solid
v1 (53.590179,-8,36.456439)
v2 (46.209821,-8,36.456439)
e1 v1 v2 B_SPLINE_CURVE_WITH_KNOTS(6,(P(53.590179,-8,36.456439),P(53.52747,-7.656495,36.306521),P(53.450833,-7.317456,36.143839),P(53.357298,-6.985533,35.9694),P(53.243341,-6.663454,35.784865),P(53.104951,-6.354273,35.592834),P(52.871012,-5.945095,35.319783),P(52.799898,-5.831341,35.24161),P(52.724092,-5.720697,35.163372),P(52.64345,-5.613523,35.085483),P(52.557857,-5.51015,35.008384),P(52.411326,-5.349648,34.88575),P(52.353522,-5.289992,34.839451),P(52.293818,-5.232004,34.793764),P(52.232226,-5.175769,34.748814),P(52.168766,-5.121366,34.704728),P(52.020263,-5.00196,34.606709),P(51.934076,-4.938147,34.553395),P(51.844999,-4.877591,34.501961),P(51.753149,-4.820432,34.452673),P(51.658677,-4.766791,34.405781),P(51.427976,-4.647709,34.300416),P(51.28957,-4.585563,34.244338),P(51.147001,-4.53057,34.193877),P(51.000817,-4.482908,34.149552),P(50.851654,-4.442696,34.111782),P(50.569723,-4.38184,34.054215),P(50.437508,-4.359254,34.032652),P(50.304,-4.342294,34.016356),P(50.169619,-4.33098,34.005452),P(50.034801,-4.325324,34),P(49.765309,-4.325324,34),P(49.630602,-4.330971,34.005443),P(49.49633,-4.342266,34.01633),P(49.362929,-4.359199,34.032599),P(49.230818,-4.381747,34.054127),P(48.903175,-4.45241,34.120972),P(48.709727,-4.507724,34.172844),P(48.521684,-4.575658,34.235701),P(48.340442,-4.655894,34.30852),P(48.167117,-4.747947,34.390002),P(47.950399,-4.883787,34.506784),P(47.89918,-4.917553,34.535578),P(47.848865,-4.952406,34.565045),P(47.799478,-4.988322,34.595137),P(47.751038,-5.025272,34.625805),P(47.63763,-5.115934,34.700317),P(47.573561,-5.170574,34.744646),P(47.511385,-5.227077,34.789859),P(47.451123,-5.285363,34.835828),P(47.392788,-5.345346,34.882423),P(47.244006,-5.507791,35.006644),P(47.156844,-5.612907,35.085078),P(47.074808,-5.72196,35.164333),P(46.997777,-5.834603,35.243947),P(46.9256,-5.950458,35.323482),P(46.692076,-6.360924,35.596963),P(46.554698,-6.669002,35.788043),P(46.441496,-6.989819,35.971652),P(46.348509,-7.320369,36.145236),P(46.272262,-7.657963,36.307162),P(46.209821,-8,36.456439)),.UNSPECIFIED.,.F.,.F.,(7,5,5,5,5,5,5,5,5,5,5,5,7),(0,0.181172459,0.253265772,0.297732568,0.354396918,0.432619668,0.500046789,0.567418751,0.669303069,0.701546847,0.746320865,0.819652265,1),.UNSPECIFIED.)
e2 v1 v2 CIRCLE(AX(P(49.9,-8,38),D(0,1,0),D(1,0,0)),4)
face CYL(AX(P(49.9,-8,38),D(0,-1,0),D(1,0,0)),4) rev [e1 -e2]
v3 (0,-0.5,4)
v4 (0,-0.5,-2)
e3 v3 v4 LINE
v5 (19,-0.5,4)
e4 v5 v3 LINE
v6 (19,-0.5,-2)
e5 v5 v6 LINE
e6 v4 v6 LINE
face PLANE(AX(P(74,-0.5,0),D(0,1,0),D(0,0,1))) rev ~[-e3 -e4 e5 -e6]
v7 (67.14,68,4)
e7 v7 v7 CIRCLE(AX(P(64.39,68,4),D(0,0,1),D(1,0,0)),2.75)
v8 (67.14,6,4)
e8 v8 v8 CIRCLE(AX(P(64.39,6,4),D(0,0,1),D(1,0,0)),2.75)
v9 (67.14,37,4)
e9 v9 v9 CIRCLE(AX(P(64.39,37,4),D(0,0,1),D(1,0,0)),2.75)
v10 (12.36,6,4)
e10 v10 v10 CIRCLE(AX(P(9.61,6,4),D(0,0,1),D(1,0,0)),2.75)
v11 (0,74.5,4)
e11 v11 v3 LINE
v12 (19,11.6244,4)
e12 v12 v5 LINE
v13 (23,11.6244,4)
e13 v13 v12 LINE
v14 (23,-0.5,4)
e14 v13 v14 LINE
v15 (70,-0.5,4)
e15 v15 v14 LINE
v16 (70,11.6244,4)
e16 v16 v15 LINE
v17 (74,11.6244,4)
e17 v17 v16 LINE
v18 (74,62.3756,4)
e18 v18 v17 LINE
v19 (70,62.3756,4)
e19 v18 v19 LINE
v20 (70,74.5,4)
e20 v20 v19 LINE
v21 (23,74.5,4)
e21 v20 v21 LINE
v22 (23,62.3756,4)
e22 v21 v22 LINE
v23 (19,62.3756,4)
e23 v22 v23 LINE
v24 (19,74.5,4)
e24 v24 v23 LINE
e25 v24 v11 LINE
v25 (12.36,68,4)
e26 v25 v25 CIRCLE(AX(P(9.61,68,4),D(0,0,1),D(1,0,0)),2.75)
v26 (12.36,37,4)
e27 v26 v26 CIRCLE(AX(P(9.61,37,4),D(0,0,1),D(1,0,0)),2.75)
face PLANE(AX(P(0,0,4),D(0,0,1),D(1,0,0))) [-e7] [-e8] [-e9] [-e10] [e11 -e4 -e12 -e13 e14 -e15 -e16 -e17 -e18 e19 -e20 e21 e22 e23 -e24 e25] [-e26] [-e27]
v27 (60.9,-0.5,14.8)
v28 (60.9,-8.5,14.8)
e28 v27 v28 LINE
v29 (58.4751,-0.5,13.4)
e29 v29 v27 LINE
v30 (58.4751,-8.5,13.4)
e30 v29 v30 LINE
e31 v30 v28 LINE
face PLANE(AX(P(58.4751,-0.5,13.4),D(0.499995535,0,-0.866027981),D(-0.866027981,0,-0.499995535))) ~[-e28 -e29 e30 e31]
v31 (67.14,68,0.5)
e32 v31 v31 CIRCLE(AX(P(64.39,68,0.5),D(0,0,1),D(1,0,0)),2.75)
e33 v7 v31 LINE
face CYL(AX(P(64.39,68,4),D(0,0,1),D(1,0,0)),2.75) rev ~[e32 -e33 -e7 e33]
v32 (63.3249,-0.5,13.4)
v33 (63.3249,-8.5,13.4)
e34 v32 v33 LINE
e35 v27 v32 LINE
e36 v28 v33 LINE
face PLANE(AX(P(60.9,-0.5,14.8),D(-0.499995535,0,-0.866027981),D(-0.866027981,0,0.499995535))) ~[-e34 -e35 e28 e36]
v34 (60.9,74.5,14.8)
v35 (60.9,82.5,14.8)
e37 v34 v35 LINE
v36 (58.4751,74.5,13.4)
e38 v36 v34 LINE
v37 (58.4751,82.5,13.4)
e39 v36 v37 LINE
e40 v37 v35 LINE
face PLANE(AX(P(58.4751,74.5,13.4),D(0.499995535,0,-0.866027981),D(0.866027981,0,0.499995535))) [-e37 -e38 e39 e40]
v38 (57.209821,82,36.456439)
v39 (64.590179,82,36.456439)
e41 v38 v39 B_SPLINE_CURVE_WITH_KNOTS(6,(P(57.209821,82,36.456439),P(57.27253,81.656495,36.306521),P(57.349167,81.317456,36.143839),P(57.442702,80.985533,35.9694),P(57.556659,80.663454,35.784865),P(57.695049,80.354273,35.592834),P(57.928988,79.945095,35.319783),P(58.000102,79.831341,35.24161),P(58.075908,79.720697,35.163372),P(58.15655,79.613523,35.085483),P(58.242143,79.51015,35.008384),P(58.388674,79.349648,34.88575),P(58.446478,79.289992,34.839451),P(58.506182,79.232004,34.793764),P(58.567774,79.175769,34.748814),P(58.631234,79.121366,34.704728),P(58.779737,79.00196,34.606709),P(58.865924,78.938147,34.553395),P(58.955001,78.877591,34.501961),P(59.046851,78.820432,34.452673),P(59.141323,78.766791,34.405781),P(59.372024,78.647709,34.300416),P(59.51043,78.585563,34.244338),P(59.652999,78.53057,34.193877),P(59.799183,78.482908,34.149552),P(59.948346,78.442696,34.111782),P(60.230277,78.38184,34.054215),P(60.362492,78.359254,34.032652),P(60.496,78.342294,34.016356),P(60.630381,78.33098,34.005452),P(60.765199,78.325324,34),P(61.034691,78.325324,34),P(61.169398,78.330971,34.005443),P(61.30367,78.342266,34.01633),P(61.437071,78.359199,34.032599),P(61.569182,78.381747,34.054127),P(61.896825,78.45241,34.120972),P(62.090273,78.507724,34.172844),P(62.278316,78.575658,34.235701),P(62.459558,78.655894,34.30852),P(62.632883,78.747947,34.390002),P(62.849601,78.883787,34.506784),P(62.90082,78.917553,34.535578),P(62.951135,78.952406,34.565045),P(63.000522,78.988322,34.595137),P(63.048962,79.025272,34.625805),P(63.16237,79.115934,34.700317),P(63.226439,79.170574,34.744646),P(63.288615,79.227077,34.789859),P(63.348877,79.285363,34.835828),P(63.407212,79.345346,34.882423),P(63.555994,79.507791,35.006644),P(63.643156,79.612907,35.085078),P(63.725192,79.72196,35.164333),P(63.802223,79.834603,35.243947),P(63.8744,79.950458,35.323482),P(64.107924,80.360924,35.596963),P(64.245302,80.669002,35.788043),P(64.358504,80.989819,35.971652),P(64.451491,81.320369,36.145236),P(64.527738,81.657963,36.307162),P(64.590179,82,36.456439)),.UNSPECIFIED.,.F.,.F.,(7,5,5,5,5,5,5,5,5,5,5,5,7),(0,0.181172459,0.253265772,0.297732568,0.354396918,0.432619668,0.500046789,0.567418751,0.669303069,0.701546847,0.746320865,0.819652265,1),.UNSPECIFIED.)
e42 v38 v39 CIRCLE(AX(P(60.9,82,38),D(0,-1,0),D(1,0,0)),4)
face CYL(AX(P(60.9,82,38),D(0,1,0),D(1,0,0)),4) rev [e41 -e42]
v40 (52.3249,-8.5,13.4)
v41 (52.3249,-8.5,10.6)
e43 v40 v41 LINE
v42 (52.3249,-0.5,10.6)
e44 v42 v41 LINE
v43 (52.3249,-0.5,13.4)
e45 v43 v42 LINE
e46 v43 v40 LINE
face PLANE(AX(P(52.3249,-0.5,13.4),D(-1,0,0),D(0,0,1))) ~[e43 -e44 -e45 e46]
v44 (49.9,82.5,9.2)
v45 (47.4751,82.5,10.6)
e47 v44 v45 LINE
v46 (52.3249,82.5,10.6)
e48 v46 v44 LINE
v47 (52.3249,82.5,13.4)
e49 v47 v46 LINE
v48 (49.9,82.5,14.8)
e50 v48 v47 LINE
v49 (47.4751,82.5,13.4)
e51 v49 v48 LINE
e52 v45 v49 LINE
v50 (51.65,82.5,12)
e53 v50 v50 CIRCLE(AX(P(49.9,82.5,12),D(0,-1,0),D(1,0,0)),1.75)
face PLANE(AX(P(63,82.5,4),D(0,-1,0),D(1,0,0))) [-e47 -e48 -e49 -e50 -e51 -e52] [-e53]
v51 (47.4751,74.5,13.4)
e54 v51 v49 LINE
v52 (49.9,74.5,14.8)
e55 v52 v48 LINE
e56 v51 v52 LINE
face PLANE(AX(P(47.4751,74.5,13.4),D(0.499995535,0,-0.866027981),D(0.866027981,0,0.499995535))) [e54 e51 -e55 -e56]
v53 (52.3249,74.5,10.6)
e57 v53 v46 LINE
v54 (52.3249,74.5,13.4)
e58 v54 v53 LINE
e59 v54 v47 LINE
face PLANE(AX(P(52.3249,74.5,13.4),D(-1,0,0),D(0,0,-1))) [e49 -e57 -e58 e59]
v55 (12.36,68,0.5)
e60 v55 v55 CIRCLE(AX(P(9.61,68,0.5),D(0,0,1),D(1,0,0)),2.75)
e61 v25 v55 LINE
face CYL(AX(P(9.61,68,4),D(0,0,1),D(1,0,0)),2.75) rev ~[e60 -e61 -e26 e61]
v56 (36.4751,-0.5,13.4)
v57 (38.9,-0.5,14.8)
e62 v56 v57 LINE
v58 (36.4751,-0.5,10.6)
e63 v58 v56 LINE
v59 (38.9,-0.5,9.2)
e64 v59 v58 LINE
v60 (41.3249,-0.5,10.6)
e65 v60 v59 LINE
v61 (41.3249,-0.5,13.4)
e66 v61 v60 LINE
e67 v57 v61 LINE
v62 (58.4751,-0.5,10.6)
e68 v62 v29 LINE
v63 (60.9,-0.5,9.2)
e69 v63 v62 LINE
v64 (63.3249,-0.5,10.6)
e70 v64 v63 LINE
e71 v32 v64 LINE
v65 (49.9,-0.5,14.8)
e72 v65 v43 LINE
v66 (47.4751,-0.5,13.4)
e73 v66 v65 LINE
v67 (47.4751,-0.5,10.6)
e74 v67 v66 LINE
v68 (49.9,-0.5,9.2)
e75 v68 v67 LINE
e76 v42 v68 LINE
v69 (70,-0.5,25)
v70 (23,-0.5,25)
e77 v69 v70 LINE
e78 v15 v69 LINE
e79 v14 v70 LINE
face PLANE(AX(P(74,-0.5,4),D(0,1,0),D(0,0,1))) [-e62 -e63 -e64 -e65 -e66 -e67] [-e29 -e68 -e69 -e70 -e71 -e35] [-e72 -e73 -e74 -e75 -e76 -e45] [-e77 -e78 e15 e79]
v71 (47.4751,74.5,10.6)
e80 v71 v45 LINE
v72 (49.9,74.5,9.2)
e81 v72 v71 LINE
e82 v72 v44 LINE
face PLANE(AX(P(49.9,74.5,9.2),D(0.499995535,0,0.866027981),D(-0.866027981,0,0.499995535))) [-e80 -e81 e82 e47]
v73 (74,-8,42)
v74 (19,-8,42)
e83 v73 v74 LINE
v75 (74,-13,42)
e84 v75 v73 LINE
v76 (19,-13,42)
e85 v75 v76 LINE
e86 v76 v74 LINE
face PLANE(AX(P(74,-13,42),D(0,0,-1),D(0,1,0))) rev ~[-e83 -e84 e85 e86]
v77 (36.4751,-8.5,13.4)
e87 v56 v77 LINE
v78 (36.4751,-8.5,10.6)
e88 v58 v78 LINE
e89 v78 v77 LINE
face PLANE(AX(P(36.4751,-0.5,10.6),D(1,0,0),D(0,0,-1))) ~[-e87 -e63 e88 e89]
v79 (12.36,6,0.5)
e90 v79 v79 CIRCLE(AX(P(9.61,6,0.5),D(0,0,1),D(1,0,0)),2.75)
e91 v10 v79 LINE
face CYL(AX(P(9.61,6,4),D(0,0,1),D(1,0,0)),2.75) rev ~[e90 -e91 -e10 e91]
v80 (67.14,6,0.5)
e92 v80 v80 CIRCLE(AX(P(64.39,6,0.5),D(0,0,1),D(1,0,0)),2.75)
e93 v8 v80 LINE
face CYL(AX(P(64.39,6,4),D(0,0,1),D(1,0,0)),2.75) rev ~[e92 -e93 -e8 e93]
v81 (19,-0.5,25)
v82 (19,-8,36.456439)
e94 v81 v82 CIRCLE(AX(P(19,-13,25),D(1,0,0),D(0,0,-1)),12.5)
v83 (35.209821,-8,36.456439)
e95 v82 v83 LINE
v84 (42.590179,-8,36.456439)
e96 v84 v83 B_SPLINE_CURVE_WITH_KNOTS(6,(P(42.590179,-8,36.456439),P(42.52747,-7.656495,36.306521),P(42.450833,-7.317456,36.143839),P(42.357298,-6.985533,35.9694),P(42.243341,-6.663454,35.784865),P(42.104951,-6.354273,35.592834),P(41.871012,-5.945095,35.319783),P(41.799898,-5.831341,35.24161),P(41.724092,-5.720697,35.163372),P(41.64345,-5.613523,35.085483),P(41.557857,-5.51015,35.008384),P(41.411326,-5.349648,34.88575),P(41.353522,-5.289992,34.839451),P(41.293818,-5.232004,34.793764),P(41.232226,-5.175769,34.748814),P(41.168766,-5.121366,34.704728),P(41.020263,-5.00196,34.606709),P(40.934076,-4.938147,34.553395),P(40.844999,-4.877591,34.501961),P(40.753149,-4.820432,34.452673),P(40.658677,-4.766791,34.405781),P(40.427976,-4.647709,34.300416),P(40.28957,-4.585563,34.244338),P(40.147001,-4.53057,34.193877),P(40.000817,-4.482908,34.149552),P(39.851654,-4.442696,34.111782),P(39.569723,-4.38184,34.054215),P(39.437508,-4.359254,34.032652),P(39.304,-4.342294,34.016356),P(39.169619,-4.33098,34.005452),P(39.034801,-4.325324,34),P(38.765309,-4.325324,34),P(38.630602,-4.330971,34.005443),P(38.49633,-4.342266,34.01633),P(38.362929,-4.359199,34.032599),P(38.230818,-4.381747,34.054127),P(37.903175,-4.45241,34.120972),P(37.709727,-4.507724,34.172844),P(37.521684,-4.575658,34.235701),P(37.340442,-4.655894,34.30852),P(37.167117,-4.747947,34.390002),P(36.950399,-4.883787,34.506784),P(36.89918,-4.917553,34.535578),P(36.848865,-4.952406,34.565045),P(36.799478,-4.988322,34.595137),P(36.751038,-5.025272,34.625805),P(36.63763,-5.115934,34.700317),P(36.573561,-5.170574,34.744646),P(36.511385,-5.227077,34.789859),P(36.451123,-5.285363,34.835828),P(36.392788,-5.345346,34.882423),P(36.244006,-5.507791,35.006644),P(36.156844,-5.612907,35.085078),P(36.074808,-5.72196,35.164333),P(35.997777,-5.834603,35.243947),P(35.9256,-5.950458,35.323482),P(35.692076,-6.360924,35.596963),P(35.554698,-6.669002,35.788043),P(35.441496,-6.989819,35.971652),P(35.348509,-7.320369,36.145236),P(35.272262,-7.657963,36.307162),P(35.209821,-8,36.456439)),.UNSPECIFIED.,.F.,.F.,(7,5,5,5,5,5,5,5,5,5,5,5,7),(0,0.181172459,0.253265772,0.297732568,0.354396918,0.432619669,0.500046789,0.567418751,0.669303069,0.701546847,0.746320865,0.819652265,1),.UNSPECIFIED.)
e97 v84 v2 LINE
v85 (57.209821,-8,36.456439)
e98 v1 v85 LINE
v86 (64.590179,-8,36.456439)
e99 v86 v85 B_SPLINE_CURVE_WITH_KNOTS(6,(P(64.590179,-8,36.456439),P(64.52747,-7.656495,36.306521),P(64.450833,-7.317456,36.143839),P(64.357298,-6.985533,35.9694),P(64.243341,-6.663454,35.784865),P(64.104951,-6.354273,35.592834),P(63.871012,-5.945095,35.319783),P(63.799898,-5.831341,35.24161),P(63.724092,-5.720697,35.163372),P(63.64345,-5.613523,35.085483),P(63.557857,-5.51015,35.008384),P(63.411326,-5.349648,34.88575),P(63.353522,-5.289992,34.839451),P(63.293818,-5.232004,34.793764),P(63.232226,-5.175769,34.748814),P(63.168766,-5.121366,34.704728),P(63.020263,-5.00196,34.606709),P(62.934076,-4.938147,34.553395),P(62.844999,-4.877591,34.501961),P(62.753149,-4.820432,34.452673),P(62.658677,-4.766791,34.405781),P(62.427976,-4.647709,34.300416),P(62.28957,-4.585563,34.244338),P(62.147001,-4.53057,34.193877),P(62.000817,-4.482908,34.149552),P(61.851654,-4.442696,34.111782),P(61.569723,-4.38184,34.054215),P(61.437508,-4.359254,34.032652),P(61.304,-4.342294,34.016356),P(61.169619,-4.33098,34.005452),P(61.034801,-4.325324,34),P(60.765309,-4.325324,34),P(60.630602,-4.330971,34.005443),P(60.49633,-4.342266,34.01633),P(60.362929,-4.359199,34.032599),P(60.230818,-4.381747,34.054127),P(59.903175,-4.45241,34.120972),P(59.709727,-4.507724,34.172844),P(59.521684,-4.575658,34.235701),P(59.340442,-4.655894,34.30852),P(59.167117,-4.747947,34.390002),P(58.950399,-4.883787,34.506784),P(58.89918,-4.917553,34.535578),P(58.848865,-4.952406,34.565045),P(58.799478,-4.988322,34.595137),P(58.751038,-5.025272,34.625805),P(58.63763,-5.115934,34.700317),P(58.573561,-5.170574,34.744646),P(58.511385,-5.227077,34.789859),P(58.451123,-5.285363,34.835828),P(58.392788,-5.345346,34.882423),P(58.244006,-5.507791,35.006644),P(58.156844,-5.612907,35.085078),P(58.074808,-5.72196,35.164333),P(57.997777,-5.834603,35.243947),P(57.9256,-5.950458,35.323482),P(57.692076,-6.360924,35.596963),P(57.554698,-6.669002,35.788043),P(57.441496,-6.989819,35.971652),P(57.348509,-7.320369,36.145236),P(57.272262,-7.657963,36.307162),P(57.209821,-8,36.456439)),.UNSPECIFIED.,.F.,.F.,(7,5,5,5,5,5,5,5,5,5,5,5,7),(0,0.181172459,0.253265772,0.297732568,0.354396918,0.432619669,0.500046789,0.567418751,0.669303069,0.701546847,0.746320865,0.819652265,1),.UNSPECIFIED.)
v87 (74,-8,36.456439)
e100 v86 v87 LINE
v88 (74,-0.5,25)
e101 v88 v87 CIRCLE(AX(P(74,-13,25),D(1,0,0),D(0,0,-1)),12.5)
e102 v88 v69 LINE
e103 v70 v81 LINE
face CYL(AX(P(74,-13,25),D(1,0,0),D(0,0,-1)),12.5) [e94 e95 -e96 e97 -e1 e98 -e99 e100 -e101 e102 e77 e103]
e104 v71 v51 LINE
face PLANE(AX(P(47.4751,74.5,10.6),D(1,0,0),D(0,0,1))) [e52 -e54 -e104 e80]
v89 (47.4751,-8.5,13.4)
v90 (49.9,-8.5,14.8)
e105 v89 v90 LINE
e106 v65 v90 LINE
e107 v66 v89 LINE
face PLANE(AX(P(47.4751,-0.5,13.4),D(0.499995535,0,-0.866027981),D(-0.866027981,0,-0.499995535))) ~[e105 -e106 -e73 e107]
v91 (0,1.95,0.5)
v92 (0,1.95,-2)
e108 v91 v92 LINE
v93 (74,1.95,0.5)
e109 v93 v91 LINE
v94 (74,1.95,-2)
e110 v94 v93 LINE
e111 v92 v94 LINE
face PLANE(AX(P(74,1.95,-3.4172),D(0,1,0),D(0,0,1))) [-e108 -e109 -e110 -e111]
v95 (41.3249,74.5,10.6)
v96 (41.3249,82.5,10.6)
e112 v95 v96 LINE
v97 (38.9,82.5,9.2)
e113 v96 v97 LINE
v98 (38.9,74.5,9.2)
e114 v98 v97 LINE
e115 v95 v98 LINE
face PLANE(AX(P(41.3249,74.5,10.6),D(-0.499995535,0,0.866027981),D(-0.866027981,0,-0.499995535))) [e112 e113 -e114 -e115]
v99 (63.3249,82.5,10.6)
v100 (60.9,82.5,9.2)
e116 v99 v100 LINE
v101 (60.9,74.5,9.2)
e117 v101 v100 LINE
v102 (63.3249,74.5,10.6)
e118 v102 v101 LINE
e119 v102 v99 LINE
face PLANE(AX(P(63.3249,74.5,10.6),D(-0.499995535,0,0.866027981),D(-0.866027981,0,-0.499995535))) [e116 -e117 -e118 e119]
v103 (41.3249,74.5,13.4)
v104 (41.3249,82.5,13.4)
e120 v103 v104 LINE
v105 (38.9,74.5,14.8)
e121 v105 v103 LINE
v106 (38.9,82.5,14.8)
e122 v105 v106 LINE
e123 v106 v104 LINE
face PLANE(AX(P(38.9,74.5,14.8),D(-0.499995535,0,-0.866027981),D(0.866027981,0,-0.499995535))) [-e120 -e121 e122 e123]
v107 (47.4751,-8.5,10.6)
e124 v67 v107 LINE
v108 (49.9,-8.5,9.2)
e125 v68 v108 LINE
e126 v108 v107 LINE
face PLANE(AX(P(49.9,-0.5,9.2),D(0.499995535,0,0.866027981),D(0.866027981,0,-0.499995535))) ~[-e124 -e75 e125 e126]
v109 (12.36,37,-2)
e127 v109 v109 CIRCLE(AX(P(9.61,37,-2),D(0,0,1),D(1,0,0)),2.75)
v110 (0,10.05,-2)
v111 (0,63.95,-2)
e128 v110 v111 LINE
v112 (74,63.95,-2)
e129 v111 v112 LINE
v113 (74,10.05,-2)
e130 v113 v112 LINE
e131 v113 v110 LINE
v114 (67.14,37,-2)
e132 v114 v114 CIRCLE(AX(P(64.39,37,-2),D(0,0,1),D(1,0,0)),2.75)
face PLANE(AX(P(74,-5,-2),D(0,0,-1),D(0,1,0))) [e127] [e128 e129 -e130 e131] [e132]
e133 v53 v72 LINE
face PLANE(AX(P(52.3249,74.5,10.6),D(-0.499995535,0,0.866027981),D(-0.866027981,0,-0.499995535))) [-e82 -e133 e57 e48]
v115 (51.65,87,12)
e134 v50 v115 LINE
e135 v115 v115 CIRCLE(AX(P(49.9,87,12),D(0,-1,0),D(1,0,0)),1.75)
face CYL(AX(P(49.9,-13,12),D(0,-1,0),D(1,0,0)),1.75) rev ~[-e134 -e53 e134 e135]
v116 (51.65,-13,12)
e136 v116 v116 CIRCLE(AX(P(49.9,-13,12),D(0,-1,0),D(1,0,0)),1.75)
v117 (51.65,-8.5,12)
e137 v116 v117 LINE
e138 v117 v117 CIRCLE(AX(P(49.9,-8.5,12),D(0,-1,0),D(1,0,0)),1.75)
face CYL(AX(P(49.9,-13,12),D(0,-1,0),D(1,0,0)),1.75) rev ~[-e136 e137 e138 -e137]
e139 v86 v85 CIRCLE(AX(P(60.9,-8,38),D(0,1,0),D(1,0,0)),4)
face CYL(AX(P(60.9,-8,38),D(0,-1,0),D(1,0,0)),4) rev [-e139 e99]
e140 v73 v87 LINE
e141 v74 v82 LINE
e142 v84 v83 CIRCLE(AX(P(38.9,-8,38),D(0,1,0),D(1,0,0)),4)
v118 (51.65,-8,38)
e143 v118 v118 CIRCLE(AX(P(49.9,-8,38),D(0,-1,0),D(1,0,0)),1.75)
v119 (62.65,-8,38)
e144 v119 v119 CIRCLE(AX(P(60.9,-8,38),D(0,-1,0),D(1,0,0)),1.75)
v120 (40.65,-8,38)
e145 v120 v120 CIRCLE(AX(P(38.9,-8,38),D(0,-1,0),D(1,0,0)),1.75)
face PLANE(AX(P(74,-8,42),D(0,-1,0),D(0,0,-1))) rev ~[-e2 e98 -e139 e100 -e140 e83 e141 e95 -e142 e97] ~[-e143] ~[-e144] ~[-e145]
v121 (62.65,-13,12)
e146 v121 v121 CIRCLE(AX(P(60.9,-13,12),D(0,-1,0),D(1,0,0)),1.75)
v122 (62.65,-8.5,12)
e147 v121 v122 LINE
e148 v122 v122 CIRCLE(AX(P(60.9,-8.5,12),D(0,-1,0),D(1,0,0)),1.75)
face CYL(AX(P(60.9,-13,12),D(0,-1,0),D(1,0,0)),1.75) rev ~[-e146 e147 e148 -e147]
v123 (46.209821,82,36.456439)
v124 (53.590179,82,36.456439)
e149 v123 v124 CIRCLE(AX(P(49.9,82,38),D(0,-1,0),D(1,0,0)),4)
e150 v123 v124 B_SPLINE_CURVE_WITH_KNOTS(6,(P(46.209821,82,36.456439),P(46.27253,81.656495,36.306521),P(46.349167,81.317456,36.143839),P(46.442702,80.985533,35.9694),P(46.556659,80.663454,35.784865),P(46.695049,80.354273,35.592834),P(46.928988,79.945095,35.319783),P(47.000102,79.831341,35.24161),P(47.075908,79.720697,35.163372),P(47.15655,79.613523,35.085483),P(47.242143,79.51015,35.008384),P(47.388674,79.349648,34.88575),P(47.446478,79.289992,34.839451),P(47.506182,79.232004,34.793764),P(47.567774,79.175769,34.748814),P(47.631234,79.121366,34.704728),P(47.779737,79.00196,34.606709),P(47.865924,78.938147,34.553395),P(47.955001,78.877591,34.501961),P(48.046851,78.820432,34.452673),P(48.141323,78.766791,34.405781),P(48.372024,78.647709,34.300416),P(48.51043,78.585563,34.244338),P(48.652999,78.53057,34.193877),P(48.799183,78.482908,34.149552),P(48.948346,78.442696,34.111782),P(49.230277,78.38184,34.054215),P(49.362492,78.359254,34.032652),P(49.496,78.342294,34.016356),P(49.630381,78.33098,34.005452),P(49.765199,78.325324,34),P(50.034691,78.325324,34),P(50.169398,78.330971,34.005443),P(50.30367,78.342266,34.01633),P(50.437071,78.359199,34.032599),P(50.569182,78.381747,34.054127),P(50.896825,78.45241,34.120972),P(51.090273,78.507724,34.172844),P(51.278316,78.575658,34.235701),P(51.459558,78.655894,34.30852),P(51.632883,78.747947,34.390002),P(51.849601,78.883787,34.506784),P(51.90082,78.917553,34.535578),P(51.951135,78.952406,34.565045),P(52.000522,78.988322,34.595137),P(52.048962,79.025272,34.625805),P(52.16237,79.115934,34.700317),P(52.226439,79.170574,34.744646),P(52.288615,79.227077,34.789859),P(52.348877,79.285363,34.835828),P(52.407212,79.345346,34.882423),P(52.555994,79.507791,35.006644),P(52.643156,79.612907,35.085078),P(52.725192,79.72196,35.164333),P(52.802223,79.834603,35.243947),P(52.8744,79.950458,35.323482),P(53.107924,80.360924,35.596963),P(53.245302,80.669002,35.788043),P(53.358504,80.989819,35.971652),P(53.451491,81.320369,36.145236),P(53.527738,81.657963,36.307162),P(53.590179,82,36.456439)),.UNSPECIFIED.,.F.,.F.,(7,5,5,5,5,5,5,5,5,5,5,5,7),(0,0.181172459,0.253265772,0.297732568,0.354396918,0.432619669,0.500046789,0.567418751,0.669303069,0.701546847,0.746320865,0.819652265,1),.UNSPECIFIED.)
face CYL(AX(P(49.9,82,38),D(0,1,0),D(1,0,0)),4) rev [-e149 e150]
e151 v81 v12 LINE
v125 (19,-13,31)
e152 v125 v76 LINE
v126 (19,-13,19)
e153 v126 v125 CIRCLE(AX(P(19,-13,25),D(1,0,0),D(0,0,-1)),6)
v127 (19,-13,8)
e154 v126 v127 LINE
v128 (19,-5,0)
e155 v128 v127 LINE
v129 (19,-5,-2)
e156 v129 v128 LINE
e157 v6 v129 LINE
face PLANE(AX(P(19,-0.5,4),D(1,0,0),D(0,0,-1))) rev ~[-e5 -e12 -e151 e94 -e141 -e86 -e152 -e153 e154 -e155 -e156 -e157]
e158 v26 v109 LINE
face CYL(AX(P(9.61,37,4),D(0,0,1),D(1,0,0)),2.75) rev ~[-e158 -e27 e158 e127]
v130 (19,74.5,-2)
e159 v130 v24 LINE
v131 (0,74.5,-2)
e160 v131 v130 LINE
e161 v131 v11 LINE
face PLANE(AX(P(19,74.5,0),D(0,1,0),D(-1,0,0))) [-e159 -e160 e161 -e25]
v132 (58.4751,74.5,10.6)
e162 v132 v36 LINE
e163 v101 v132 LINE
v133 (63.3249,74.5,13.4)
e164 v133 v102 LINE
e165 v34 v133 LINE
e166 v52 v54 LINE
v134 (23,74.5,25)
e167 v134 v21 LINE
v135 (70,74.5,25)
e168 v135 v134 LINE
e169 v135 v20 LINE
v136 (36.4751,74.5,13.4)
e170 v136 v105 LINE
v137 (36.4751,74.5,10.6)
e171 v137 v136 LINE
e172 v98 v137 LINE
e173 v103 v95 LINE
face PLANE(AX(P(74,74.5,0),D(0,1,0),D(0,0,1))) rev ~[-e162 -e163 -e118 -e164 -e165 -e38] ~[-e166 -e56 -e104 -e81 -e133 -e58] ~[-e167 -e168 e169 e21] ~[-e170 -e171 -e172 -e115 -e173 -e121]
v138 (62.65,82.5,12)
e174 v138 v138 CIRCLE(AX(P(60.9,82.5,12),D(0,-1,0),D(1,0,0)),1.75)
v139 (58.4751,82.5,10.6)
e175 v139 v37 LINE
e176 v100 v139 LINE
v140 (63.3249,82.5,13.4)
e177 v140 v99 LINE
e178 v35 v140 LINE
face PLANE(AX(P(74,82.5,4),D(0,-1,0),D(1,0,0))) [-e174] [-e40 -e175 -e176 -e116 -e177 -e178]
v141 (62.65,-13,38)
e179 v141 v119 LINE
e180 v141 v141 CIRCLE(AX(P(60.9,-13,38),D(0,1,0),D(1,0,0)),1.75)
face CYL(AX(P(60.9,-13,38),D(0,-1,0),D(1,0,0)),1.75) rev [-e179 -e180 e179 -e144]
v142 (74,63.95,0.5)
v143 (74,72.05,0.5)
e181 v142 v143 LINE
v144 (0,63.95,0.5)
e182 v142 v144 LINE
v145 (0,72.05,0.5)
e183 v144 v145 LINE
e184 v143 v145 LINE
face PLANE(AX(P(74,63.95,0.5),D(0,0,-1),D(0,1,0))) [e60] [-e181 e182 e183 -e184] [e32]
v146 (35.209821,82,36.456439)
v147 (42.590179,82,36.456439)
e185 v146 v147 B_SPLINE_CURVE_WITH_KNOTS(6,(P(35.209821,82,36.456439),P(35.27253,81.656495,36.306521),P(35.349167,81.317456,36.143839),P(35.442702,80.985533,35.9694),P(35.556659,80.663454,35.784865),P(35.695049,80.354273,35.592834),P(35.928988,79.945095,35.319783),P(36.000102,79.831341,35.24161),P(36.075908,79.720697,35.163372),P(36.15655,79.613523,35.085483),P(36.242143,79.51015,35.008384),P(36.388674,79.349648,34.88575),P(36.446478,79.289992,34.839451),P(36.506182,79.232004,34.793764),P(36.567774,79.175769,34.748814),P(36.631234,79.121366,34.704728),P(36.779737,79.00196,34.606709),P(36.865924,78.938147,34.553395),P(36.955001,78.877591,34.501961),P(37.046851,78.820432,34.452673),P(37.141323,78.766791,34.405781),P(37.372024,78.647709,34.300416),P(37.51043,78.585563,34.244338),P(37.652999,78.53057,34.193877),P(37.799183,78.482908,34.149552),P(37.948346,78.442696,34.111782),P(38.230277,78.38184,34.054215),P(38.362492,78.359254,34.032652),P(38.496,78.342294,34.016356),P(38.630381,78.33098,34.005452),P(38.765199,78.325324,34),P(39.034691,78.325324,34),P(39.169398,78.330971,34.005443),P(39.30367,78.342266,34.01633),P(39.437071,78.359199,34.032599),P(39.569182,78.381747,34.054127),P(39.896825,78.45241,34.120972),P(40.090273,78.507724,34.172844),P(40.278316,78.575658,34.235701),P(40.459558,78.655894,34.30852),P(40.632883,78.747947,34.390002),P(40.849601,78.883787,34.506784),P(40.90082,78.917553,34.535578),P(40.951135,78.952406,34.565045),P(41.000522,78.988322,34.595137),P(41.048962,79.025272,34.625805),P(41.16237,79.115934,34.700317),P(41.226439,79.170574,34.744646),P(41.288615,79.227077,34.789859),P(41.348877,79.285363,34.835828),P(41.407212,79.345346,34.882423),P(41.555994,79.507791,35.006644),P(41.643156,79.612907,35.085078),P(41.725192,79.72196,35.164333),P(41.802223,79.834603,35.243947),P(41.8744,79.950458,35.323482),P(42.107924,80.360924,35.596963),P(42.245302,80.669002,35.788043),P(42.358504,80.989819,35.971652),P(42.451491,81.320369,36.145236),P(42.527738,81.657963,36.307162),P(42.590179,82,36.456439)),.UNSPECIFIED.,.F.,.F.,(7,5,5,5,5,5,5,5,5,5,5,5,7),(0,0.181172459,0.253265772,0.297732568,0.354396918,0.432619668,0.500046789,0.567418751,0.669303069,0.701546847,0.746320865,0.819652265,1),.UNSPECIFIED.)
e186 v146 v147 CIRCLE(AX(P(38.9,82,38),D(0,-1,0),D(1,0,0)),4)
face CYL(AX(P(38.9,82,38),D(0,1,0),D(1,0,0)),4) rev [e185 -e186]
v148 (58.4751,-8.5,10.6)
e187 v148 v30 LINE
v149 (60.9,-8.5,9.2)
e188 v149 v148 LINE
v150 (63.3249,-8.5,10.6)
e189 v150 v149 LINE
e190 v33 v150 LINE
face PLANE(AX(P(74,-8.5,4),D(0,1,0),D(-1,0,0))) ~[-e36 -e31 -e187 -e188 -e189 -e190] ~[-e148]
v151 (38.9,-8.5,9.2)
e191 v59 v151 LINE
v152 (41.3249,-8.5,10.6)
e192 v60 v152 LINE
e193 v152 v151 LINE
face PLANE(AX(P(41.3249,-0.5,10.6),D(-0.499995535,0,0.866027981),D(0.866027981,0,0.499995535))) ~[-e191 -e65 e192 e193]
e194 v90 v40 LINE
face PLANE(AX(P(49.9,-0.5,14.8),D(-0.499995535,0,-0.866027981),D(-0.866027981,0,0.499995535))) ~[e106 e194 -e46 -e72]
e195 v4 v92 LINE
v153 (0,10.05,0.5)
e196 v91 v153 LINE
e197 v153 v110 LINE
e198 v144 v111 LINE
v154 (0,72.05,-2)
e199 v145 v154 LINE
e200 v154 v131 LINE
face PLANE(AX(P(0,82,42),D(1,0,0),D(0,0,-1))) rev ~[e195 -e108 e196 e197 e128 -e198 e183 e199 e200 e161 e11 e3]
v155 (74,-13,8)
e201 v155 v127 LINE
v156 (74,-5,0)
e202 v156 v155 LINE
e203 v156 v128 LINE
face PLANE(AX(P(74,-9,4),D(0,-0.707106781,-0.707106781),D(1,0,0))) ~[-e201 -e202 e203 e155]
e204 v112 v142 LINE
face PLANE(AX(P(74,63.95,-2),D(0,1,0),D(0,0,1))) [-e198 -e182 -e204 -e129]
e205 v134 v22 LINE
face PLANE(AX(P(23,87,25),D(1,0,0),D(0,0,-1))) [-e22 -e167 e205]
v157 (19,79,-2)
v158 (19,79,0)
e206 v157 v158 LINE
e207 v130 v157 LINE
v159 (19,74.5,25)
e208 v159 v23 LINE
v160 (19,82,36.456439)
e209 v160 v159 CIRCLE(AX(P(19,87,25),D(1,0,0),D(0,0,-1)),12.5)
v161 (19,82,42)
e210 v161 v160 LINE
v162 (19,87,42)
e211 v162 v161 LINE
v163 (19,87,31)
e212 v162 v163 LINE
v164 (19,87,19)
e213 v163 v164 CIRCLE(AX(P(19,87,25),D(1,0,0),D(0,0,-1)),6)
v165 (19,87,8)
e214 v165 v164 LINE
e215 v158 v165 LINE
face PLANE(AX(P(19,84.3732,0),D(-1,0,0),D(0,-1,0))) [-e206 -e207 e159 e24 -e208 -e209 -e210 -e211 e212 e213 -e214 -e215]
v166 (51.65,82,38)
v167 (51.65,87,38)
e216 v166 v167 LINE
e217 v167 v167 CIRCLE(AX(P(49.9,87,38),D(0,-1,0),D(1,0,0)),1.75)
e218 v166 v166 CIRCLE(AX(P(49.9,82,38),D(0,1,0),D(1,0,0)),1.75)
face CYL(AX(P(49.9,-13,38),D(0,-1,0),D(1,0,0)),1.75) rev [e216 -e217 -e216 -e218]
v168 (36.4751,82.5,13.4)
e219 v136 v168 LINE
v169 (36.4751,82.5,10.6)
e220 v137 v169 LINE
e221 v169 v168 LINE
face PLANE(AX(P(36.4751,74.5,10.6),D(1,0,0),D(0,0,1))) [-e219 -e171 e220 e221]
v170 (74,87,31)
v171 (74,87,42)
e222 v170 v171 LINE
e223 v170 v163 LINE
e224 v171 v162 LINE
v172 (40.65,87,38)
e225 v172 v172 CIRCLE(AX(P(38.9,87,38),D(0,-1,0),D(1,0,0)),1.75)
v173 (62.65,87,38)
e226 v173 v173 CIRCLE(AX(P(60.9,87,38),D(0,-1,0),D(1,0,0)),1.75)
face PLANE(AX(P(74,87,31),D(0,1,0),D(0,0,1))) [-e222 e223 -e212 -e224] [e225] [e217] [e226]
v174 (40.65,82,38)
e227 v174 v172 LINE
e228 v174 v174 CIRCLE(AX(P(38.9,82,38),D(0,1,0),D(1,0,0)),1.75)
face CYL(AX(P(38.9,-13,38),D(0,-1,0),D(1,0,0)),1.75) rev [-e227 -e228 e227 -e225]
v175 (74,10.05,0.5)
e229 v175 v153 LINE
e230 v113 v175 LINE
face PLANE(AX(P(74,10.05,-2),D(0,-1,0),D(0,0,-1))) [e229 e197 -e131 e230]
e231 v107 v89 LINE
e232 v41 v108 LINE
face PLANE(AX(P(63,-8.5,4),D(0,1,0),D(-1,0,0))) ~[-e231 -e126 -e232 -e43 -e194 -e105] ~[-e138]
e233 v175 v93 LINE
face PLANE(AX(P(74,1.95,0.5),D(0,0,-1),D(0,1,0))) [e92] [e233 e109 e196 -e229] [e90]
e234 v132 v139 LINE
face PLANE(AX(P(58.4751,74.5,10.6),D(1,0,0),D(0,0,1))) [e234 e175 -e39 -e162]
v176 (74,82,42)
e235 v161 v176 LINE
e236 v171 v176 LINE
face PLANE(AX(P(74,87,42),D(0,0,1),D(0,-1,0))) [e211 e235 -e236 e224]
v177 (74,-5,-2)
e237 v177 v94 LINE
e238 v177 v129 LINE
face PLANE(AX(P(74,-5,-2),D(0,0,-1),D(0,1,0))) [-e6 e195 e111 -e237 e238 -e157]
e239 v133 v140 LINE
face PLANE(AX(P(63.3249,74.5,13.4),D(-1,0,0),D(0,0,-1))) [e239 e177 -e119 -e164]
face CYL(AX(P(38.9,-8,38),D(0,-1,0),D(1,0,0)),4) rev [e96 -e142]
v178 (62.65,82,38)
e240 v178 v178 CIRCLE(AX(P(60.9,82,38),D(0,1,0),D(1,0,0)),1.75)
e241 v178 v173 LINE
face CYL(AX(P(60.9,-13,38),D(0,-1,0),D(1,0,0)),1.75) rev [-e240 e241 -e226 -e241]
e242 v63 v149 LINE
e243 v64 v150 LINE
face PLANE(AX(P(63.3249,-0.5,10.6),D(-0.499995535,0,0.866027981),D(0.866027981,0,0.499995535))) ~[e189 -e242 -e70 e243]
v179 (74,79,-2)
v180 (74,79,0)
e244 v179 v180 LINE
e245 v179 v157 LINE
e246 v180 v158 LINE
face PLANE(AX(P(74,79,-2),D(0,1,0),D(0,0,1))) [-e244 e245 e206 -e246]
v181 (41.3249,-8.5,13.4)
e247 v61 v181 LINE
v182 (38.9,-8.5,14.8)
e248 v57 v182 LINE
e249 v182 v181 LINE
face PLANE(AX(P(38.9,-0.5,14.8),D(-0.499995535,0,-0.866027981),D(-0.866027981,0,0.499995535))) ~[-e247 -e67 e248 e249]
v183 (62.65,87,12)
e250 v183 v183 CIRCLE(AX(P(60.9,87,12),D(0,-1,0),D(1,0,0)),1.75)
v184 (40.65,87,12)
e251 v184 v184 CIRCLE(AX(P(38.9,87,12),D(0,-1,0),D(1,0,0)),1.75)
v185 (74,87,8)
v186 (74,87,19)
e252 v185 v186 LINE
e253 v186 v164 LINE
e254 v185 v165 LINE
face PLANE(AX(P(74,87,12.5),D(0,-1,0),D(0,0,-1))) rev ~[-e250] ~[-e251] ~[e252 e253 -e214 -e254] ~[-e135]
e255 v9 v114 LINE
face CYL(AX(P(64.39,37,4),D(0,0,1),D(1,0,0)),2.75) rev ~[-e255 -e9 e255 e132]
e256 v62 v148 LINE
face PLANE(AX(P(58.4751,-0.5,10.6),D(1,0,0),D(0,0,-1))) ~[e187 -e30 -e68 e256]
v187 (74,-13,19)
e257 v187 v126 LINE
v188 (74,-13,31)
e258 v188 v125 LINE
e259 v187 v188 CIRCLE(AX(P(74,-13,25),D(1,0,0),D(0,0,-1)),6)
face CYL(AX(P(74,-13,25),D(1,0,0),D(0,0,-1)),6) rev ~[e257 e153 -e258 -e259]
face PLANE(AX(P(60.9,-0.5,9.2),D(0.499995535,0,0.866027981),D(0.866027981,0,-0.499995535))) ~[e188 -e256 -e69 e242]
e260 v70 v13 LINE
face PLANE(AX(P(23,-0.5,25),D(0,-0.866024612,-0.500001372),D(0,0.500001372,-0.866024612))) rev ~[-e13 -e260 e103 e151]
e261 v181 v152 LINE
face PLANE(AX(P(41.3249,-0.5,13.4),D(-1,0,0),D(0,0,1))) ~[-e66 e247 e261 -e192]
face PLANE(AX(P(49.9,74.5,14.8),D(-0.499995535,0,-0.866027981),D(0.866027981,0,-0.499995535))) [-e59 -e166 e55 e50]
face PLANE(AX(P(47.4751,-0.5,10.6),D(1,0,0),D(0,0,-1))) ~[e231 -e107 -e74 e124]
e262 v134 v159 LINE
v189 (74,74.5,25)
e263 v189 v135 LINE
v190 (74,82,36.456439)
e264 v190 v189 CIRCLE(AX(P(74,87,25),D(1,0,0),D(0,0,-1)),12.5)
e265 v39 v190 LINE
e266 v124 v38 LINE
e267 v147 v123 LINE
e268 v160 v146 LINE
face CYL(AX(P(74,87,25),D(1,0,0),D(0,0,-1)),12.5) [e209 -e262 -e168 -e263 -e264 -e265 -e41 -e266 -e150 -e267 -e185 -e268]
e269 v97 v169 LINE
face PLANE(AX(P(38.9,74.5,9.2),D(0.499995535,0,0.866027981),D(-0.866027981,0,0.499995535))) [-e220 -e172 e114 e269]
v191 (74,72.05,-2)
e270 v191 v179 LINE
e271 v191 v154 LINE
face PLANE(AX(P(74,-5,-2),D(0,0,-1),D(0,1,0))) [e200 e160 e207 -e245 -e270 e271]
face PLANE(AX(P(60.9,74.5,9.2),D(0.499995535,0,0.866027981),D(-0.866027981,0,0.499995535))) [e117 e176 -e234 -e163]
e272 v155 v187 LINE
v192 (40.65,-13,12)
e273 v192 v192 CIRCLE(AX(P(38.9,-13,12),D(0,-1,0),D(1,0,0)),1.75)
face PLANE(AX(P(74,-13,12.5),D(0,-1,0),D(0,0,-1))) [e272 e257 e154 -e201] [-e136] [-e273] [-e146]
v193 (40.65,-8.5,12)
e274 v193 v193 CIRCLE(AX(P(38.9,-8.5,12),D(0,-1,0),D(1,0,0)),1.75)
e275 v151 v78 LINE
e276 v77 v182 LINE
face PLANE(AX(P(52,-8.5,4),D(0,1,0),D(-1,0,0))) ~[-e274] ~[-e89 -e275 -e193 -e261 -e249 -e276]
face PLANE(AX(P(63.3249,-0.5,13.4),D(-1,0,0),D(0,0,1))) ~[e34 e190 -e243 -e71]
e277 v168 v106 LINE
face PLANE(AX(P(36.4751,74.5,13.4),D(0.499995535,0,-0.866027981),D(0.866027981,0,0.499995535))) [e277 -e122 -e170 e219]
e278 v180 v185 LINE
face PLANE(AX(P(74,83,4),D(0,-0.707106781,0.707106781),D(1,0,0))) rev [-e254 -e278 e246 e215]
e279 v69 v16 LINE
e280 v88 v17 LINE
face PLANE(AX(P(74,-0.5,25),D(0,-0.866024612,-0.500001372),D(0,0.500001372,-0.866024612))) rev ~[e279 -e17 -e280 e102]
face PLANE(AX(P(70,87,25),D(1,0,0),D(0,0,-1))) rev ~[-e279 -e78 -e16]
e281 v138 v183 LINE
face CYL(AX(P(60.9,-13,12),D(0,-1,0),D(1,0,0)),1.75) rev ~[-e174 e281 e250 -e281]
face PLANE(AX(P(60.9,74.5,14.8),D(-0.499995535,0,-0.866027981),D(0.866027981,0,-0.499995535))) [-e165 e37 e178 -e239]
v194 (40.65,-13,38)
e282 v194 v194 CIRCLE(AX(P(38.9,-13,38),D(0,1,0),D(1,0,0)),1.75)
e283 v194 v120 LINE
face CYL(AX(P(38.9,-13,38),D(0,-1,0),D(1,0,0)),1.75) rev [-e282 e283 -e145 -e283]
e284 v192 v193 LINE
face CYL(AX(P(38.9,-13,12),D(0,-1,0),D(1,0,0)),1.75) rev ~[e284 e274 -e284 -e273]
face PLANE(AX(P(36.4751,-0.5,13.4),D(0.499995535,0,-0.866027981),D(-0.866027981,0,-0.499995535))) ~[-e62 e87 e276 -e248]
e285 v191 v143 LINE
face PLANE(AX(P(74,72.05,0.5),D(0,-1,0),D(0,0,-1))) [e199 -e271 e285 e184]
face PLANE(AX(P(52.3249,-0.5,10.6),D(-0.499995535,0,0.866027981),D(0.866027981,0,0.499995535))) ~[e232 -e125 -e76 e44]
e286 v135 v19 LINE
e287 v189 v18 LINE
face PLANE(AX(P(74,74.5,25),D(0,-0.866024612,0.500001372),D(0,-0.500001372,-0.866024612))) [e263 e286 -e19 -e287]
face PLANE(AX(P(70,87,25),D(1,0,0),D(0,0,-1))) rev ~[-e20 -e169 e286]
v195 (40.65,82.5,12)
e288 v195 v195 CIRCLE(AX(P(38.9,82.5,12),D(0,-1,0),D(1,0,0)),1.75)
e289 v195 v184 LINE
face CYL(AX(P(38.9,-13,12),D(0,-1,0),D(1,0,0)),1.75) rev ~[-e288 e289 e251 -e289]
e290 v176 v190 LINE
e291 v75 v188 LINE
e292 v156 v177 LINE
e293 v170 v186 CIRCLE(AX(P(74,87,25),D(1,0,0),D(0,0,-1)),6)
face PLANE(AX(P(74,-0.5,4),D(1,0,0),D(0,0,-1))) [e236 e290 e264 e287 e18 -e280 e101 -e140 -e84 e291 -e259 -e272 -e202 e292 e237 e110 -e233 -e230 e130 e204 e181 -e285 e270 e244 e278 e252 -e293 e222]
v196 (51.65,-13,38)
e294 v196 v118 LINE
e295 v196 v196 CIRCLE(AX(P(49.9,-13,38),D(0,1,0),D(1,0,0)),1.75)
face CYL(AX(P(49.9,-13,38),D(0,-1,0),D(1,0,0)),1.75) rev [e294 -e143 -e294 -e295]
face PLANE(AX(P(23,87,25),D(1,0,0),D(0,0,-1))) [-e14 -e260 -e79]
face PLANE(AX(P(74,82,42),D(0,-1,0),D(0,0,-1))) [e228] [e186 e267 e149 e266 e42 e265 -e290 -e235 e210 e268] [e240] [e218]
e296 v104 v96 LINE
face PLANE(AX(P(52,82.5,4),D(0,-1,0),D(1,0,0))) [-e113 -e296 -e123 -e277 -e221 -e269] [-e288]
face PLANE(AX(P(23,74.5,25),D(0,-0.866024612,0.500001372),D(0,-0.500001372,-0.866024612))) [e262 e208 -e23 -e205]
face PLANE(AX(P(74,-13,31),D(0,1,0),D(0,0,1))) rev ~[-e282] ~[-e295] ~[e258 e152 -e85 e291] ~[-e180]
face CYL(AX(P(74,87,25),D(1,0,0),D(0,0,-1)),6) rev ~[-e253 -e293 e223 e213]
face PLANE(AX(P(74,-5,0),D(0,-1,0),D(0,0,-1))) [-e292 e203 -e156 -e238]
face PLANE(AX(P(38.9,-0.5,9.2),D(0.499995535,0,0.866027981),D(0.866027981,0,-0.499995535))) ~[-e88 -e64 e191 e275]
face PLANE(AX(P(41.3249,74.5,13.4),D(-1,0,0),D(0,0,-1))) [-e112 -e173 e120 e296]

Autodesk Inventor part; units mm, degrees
sketch "Szkic1" plane through (0, 0, 0) normal (0, 0, 1) x (1, 0, 0)
  line L0 (0, 0) -> (74, 0)
  line L1 (74, 0) -> (74, 74)
  line L2 (74, 74) -> (0, 74)
  line L3 (0, 74) -> (0, 0)
  dimension "d0" = 74
  dimension "d1" = 74
extrude "Wyciągnięcie proste1" add sketch "Szkic1" along normal blind 25
sketch "Szkic2" plane through (0, 0, 25) normal (0, 0, 1) x (1, 0, 0)
  line L0 (-55.7627, 31) -> (170, 31)
  line L1 (170, 31) -> (170, 11)
  line L2 (170, 11) -> (-55.7627, 11)
  line L3 (-55.7627, 11) -> (-55.7627, 31)
  line L4 (-31.3559, 63) -> (141.1864, 63)
  line L5 (141.1864, 63) -> (141.1864, 43)
  line L6 (141.1864, 43) -> (-31.3559, 43)
  line L7 (-31.3559, 43) -> (-31.3559, 63)
  line L8 (0, 0) -> (74, 0) projected
  line L9 (74, 74) -> (0, 74) projected
  dimension "d4" = 20
  dimension "d6" = 20
  dimension "d7" = 11
  dimension "d8" = 11
extrude "Wyciągnięcie proste2" cut sketch "Szkic2" against normal blind 19.8
sketch "Szkic3" plane through (0, 0, 25) normal (0, 0, 1) x (1, 0, 0)
  line L0 (0, 9.95) -> (74, 9.95)
  line L1 (74, 9.95) -> (74, 2.05)
  line L2 (74, 2.05) -> (0, 2.05)
  line L3 (0, 2.05) -> (0, 9.95)
  line L4 (0, 71.95) -> (74, 71.95)
  line L5 (74, 71.95) -> (74, 64.05)
  line L6 (74, 64.05) -> (0, 64.05)
  line L7 (0, 64.05) -> (0, 71.95)
  line L8 (74, 74) -> (0, 74) projected
  line L9 (0, 74) -> (0, 63) projected
  line L10 (74, 63) -> (74, 74) projected
  line L11 (0, 0) -> (74, 0) projected
  line L12 (0, 11) -> (0, 0) projected
  line L13 (74, 0) -> (74, 11) projected
  dimension "d11" = 2.05
  dimension "d12" = 7.9
  dimension "d13" = 0
  dimension "d14" = 0
  dimension "d15" = 2.05
  dimension "d16" = 7.9
  dimension "d17" = 0
  dimension "d18" = 0
extrude "Wyciągnięcie proste3" add sketch "Szkic3" along normal blind 1.9 contours L0 L1 L2 L3 | L4 L5 L6 L7
sketch "Szkic4" plane through (0, 0, 0) normal (-1, 0, 0) x (0, 0, 1)
  line L0 (0, 74) -> (25, 74) projected
  line L1 (0, 74) -> (0, 0) projected
  line L2 (25, 74) -> (0, 74)
  line L3 (0, 74) -> (0, 0)
  line L4 (0, 0) -> (25, 0)
  line L5 (25, 0) -> (25, 74)
extrude "Wyciągnięcie proste4" add sketch "Szkic4" against normal blind 4
ref_plane "Płaszczyzna konstrukcyjna1" through (37, 0, 0) normal (1, 0, 0) x (0, 0, -1)
sketch "Szkic5" plane through (0, 0, 26.9) normal (0, 0, 1) x (1, 0, 0)
  circle A0 centre (9.61, 6) radius 2.75
  circle A1 centre (64.39, 6) radius 2.75
  line L0 (0, 0) -> (74, 0) projected
  line L1 (37, 88.8) -> (37, -14.8) projected
  dimension "d23" = 5.5
  dimension "d24" = 5.5
  dimension "d25" = 6
  dimension "d26" = 6
  dimension "d27" = 54.78
  dimension "d29" = 27.39
extrude "Wyciągnięcie proste5" cut sketch "Szkic5" against normal blind 50
pattern_linear "Szyk prostokątny1" count 3 spacing 31 along (0, 1, 0) of "Wyciągnięcie proste5"
chamfer "Faza1" distance 2 angle 45 8 edges at (0, 37, 25) (0, 72.975, 25) (0, 1.025, 25) (74, 1.025, 25) (74, 10.475, 25) (74, 37, 25) (74, 63.525, 25) (74, 72.975, 25)
chamfer "Faza2" distance 3.8999 angle 45 2 edges at (0, 6, 26.9) (0, 68, 26.9)
chamfer "Faza3" distance 3.8999 angle 45 2 edges at (74, 6, 26.9) (74, 68, 26.9)
sketch "Szkic6" plane through (0, 0, 26.9) normal (0, 0, 1) x (1, 0, 0)
  line L0 (-37.7989, 82.8258) -> (109.7385, 82.8258)
  line L1 (109.7385, 82.8258) -> (109.7385, -18.0074)
  line L2 (109.7385, -18.0074) -> (-37.7989, -18.0074)
  line L3 (-37.7989, -18.0074) -> (-37.7989, 82.8258)
  point P0 (0, 0)
extrude "Wyciągnięcie proste6" cut sketch "Szkic6" against normal blind 22.9
sketch "Szkic7" plane through (74, 0, 0) normal (1, 0, 0) x (0, 0, -1)
  circle A0 centre (-25, 87) radius 6
  circle A1 centre (-25, -13) radius 6
  line L0 (0, 74) -> (-4, 74) projected
  line L1 (0, 0) -> (-4, 0) projected
  line L2 (0, 0) -> (0, 74) projected
  circle A2 centre (-25, 87) radius 12.5
  circle A3 centre (-25, -13) radius 12.5
  line L3 (-31, 87) -> (-37.5, 87)
  line L4 (-19, 87) -> (-12.5, 87)
  line L5 (-12.5, -13) -> (-19, -13)
  line L6 (-31, -13) -> (-37.5, -13)
  dimension "d46" = 12
  dimension "d47" = 12
  dimension "d48" = 100
  dimension "d49" = 13
  dimension "d50" = 13
  dimension "d51" = 25
  dimension "d52" = 25
  dimension "d53" = 25
extrude "Wyciągnięcie proste7" add sketch "Szkic7" against normal blind 55 contours L4 A2 L3 A0 | A1 L6 A3 L5 picked at (-14.7877, 86.0029) picked at (-35.1541, -11.5242)
sketch "Szkic8" plane through (74, 0, 0) normal (1, 0, 0) x (0, 0, -1)
  line L0 (0, 0) -> (-4, 0) projected
  line L1 (-4, 0) -> (0, 0)
  line L2 (0, 0) -> (0, -0.5)
  line L3 (0, -0.5) -> (-4, -0.5)
  line L4 (-4, -0.5) -> (-4, 0)
  line L5 (0, 0) -> (0, 74) projected
  line L6 (-4, 74) -> (0, 74)
  line L7 (0, 74) -> (0, 74.5)
  line L8 (0, 74.5) -> (-4, 74.5)
  line L9 (-4, 74.5) -> (-4, 74)
  dimension "d56" = 0
  dimension "d57" = 0.5
  dimension "d58" = 0.5
extrude "Wyciągnięcie proste8" add sketch "Szkic8" against normal blind 74
sketch "Szkic9" plane through (74, -0.5, 4) normal (1, 0, 0) x (0, 0, -1)
  line L0 (4, 0) -> (0, 0) projected
  line L1 (4, 0) -> (-21, 0)
  arc A0 (-8.5, -12.5) -> (-33.5, -12.5) centre (-21, -12.5) ccw projected
  line L2 (-21, 0) -> (-8.5, -12.5)
  line L3 (-8.5, -12.5) -> (4, -12.5)
  line L4 (4, -12.5) -> (4, 0)
  point P0 (4, 0.5)
extrude "Wyciągnięcie proste9" add sketch "Szkic9" against normal blind 55 contours L4 L3 A0 L1 L0
sketch "Szkic10" plane through (74, -13, 25) normal (1, 0, 0) x (0, 0, -1)
  line L0 (25, 87.5) -> (25, 0) projected
  line L1 (25, 87.5) -> (0, 87.5)
  arc A0 (-12.5, 100) -> (12.5, 100) centre (0, 100) ccw projected
  line L2 (6, 100) -> (12.5, 100) projected
  line L3 (0, 87.5) -> (12.5, 100)
  line L4 (12.5, 100) -> (25, 100)
  line L5 (25, 87.5) -> (21, 87.5) projected
  line L6 (25, 87.5) -> (25, 100)
  point P0 (25, 13)
extrude "Wyciągnięcie proste10" add sketch "Szkic10" against normal blind 55
sketch "Szkic12" plane through (74, -13, 0) normal (0, -1, 0) x (1, 0, 0)
  circle A0 centre (-13.1, 12) radius 1.75
  line L0 (0, 19) -> (0, 0) projected
  line L1 (0, 25) -> (-55, 25) projected
  point P0 (-74, 0)
  dimension "d65" = 3.5
  dimension "d66" = 13.1
  dimension "d67" = 13
extrude "Wyciągnięcie proste11" cut sketch "Szkic12" against normal blind 5000
pattern_linear "Szyk prostokątny2" count 3 spacing 11 along (-1, 0, 0) of "Wyciągnięcie proste11"
sketch "Szkic13" plane through (74, -13, 25) normal (1, 0, 0) x (0, 0, -1)
  arc A0 (6, 0) -> (-6, 0) centre (0, 0) ccw projected
  line L0 (-6, 0) -> (-17, 0)
  line L1 (-17, 0) -> (-17, 5)
  line L2 (-17, 5) -> (-6, 5)
  line L3 (-6, 5) -> (-6, 0)
  line L4 (-6, 100) -> (-12.5, 100) projected
  line L5 (-6, 100) -> (-17, 100)
  line L6 (-17, 100) -> (-17, 95)
  line L7 (-17, 95) -> (-6, 95)
  line L8 (-6, 95) -> (-6, 100)
  point P0 (25, 13)
  dimension "d73" = 11
  dimension "d74" = 11
  dimension "d75" = 5
  dimension "d76" = 5
extrude "Wyciągnięcie proste12" add sketch "Szkic13" against normal blind 55
ref_plane "Płaszczyzna konstrukcyjna2" through (0, 0, 25) normal (0, 0, -1) x (-1, 0, 0)
mirror "Odbij1" about plane through (0, 0, 25) normal (0, 0, -1) of "Wyciągnięcie proste11", "Szyk prostokątny2"
chamfer "Faza4" distance 8 angle 45 2 edges at (46.5, -13, 0) (46.5, 87, 0)
sketch "Szkic15" plane through (74, 74.5, 4) normal (0, -1, 0) x (1, 0, 0)
  circle A0 centre (-13.1, 8) radius 2.8
  circle A1 centre (-13.1, 8) radius 1.75 projected
  line L0 (-13.1, 5.2) -> (-15.5249, 6.6)
  line L1 (-15.5249, 6.6) -> (-15.5249, 9.4)
  line L2 (-15.5249, 9.4) -> (-13.1, 10.8)
  line L3 (-13.1, 10.8) -> (-10.6751, 9.4)
  line L4 (-10.6751, 9.4) -> (-10.6751, 6.6)
  line L5 (-10.6751, 6.6) -> (-13.1, 5.2)
  line L6 (0, 0) -> (-55, 0) projected
  point P0 (-74, -4)
  dimension "d83" = 5.6
  dimension "d84" = 90
extrude "Wyciągnięcie proste13" cut sketch "Szkic15" against normal blind 8 contours L4 L5 L0 L1 L2 L3
pattern_linear "Szyk prostokątny3" count 3 spacing 11 along (-1, 0, 0) of "Wyciągnięcie proste13"
sketch "Szkic16" plane through (74, 82, 36.4564) normal (0, -1, 0) x (1, 0, 0)
  circle A0 centre (-35.1, 1.5436) radius 4
  arc A1 (-34.2754, 0) -> (-35.9246, 0) centre (-35.1, 1.5436) ccw projected
  point P0 (-74, -36.4564)
  dimension "d90" = 8
extrude "Wyciągnięcie proste14" cut sketch "Szkic16" along normal blind 8
pattern_linear "Szyk prostokątny4" count 3 spacing 11 along (1, 0, 0) of "Wyciągnięcie proste14"
sketch "Szkic17" plane through (74, -8, 42) normal (0, 1, 0) x (1, 0, 0)
  circle A0 centre (-35.1, 4) radius 4
  arc A1 (-35.9246, 5.5436) -> (-34.2754, 5.5436) centre (-35.1, 4) ccw projected
  point P0 (-74, 42)
  dimension "d96" = 8
extrude "Wyciągnięcie proste15" cut sketch "Szkic17" along normal blind 8
pattern_linear "Szyk prostokątny5" count 3 spacing 11 along (1, 0, 0) of "Wyciągnięcie proste15"
sketch "Szkic18" plane through (74, 87, 25) normal (1, 0, 0) x (0, 0, -1)
  line L0 (21, -87.5) -> (0, -87.5) projected
  line L1 (0, -87.5) -> (21, -75.3756)
  line L2 (21, -12.5) -> (21, -87.5) projected
  line L3 (21, -75.3756) -> (21, -87.5)
  line L4 (21, -87.5) -> (0, -87.5)
  line L5 (0, -12.5) -> (21, -12.5) projected
  line L6 (0, -12.5) -> (21, -12.5)
  line L7 (21, -12.5) -> (21, -24.6244)
  line L8 (0, -12.5) -> (21, -24.6244)
  point P0 (25, -87)
  dimension "d102" = 30
  dimension "d103" = 30
extrude "Wyciągnięcie proste16" add sketch "Szkic18" against normal blind 4
ref_plane "Płaszczyzna konstrukcyjna4" through (19, 37, 31) normal (0, 1, 0) x (1, 0, 0)
mirror "Odbij3" about plane through (19, 37, 31) normal (0, 1, 0) of "Wyciągnięcie proste13", "Szyk prostokątny3"
pattern_linear "Szyk prostokątny6" count 2 spacing 51 along (-1, 0, 0) of "Wyciągnięcie proste16"
sketch "Szkic20" plane through (74, 82, 42) normal (1, 0, 0) x (0, 0, -1)
  line L0 (48.2715, -80.05) -> (39.5, -80.05)
  line L1 (39.5, -80.05) -> (39.5, -71.95)
  line L2 (39.5, -71.95) -> (48.2715, -71.95)
  line L3 (48.2715, -71.95) -> (48.2715, -80.05)
  line L4 (51.3094, -18.05) -> (39.5, -18.05)
  line L5 (39.5, -18.05) -> (39.5, -9.95)
  line L6 (39.5, -9.95) -> (51.3094, -9.95)
  line L7 (51.3094, -9.95) -> (51.3094, -18.05)
  line L8 (42, -3) -> (42, -87) projected
  line L9 (57.0791, -76) -> (29.5355, -76)
  line L10 (-11.4158, -45) -> (68.4949, -45) projected
  point P0 (42, -82)
  dimension "d117" = 2.5
  dimension "d118" = 2.5
  dimension "d119" = 62
  dimension "d120" = 8.7715
  dimension "d121" = 8.1
  dimension "d122" = 8.1
  dimension "d123" = 4.05
  dimension "d124" = 31
extrude "Wyciągnięcie proste18" cut sketch "Szkic20" against normal blind 500
sketch "Szkic21" plane through (74, 82, 42) normal (1, 0, 0) x (0, 0, -1)
  line L0 (42, -80.05) -> (42, -87) projected
  line L1 (42, -87) -> (44, -87)
  line L2 (44, -87) -> (44, -3)
  line L3 (44, -3) -> (42, -3)
  line L4 (42, -3) -> (42, -87)
  line L5 (39.5, -18.05) -> (42, -18.05) projected
  line L6 (42, -7.5) -> (42, -9.95) projected
  line L7 (39.5, -18.05) -> (42, -18.05)
  line L8 (42, -18.05) -> (42, -9.95)
  line L9 (42, -9.95) -> (39.5, -9.95)
  line L10 (39.5, -9.95) -> (39.5, -18.05)
  line L11 (42, -80.05) -> (39.5, -80.05) projected
  line L12 (39.5, -71.95) -> (42, -71.95) projected
  line L13 (39.5, -80.05) -> (42, -80.05)
  line L14 (42, -80.05) -> (42, -71.95)
  line L15 (42, -71.95) -> (39.5, -71.95)
  line L16 (39.5, -71.95) -> (39.5, -80.05)
  point P0 (42, -82)
  dimension "d127" = 84
  dimension "d128" = 2
extrude "Wyciągnięcie proste19" add sketch "Szkic21" against normal blind 74
sketch "Szkic22" plane through (0, 79, 0) normal (0, 0, 1) x (1, 0, 0)
  line L0 (19, -16.6244) -> (19, -4.5) projected
  line L1 (19, -4.5) -> (-9.5464, -4.5)
  line L2 (-9.5464, -4.5) -> (-9.5464, 5.3732)
  line L3 (-9.5464, 5.3732) -> (19, 5.3732)
  line L4 (19, 5.3732) -> (19, -4.5)
  line L5 (19, -79.5) -> (0, -79.5) projected
  line L6 (19, -79.5) -> (-15.8101, -79.5)
  line L7 (-15.8101, -79.5) -> (-15.8101, -92.9885)
  line L8 (-15.8101, -92.9885) -> (19, -92.9885)
  line L9 (19, -92.9885) -> (19, -79.5)
  point P0 (0, -79)
extrude "Wyciągnięcie proste20" cut sketch "Szkic22" against normal blind 74
sketch "Szkic23" plane through (0, 0, 4) normal (0, 0, 1) x (1, 0, 0)
  circle A0 centre (9.61, 6) radius 2.75
  circle A1 centre (9.61, 37) radius 2.75 projected
  circle A2 centre (9.61, 37) radius 2.75
  circle A3 centre (64.39, 6) radius 2.75
  circle A4 centre (64.39, 37) radius 2.75
  circle A5 centre (64.39, 68) radius 2.75
  circle A6 centre (9.61, 68) radius 2.75
  circle A7 centre (9.61, 68) radius 2.75 projected
  circle A8 centre (9.61, 6) radius 2.75 projected
  circle A9 centre (64.39, 6) radius 2.75 projected
  circle A10 centre (64.39, 37) radius 2.75 projected
  circle A11 centre (64.39, 68) radius 2.75 projected
  point P0 (0, 0)
  dimension "d133" = 5.5
  dimension "d134" = 5.5
  dimension "d135" = 5.5
  dimension "d136" = 5.5
  dimension "d137" = 5.5
  dimension "d138" = 5.5
extrude "Wyciągnięcie proste21" cut sketch "Szkic23" against normal blind 74
sketch "Szkic24" plane through (74, 82, 42) normal (1, 0, 0) x (0, 0, -1)
  line L0 (45.4172, -80.05) -> (41.5, -80.05)
  line L1 (41.5, -80.05) -> (41.5, -71.95)
  line L2 (41.5, -71.95) -> (45.4172, -71.95)
  line L3 (45.4172, -71.95) -> (45.4172, -80.05)
  line L4 (46.4297, -18.05) -> (41.5, -18.05)
  line L5 (41.5, -18.05) -> (41.5, -9.95)
  line L6 (41.5, -9.95) -> (46.4297, -9.95)
  line L7 (46.4297, -9.95) -> (46.4297, -18.05)
  line L8 (49.5433, -76) -> (34.2517, -76)
  line L9 (-9.9087, -45) -> (59.452, -45) projected
  line L10 (44, -87) -> (44, -3) projected
  point P0 (42, -82)
  dimension "d141" = 8.1
  dimension "d142" = 8.1
  dimension "d143" = 62
  dimension "d144" = 4.05
  dimension "d145" = 31
  dimension "d146" = 2.5
extrude "Wyciągnięcie proste22" cut sketch "Szkic24" against normal blind 74
properties part number "ZY_rod_mount" material "Tworzywo sztuczne ABS"
